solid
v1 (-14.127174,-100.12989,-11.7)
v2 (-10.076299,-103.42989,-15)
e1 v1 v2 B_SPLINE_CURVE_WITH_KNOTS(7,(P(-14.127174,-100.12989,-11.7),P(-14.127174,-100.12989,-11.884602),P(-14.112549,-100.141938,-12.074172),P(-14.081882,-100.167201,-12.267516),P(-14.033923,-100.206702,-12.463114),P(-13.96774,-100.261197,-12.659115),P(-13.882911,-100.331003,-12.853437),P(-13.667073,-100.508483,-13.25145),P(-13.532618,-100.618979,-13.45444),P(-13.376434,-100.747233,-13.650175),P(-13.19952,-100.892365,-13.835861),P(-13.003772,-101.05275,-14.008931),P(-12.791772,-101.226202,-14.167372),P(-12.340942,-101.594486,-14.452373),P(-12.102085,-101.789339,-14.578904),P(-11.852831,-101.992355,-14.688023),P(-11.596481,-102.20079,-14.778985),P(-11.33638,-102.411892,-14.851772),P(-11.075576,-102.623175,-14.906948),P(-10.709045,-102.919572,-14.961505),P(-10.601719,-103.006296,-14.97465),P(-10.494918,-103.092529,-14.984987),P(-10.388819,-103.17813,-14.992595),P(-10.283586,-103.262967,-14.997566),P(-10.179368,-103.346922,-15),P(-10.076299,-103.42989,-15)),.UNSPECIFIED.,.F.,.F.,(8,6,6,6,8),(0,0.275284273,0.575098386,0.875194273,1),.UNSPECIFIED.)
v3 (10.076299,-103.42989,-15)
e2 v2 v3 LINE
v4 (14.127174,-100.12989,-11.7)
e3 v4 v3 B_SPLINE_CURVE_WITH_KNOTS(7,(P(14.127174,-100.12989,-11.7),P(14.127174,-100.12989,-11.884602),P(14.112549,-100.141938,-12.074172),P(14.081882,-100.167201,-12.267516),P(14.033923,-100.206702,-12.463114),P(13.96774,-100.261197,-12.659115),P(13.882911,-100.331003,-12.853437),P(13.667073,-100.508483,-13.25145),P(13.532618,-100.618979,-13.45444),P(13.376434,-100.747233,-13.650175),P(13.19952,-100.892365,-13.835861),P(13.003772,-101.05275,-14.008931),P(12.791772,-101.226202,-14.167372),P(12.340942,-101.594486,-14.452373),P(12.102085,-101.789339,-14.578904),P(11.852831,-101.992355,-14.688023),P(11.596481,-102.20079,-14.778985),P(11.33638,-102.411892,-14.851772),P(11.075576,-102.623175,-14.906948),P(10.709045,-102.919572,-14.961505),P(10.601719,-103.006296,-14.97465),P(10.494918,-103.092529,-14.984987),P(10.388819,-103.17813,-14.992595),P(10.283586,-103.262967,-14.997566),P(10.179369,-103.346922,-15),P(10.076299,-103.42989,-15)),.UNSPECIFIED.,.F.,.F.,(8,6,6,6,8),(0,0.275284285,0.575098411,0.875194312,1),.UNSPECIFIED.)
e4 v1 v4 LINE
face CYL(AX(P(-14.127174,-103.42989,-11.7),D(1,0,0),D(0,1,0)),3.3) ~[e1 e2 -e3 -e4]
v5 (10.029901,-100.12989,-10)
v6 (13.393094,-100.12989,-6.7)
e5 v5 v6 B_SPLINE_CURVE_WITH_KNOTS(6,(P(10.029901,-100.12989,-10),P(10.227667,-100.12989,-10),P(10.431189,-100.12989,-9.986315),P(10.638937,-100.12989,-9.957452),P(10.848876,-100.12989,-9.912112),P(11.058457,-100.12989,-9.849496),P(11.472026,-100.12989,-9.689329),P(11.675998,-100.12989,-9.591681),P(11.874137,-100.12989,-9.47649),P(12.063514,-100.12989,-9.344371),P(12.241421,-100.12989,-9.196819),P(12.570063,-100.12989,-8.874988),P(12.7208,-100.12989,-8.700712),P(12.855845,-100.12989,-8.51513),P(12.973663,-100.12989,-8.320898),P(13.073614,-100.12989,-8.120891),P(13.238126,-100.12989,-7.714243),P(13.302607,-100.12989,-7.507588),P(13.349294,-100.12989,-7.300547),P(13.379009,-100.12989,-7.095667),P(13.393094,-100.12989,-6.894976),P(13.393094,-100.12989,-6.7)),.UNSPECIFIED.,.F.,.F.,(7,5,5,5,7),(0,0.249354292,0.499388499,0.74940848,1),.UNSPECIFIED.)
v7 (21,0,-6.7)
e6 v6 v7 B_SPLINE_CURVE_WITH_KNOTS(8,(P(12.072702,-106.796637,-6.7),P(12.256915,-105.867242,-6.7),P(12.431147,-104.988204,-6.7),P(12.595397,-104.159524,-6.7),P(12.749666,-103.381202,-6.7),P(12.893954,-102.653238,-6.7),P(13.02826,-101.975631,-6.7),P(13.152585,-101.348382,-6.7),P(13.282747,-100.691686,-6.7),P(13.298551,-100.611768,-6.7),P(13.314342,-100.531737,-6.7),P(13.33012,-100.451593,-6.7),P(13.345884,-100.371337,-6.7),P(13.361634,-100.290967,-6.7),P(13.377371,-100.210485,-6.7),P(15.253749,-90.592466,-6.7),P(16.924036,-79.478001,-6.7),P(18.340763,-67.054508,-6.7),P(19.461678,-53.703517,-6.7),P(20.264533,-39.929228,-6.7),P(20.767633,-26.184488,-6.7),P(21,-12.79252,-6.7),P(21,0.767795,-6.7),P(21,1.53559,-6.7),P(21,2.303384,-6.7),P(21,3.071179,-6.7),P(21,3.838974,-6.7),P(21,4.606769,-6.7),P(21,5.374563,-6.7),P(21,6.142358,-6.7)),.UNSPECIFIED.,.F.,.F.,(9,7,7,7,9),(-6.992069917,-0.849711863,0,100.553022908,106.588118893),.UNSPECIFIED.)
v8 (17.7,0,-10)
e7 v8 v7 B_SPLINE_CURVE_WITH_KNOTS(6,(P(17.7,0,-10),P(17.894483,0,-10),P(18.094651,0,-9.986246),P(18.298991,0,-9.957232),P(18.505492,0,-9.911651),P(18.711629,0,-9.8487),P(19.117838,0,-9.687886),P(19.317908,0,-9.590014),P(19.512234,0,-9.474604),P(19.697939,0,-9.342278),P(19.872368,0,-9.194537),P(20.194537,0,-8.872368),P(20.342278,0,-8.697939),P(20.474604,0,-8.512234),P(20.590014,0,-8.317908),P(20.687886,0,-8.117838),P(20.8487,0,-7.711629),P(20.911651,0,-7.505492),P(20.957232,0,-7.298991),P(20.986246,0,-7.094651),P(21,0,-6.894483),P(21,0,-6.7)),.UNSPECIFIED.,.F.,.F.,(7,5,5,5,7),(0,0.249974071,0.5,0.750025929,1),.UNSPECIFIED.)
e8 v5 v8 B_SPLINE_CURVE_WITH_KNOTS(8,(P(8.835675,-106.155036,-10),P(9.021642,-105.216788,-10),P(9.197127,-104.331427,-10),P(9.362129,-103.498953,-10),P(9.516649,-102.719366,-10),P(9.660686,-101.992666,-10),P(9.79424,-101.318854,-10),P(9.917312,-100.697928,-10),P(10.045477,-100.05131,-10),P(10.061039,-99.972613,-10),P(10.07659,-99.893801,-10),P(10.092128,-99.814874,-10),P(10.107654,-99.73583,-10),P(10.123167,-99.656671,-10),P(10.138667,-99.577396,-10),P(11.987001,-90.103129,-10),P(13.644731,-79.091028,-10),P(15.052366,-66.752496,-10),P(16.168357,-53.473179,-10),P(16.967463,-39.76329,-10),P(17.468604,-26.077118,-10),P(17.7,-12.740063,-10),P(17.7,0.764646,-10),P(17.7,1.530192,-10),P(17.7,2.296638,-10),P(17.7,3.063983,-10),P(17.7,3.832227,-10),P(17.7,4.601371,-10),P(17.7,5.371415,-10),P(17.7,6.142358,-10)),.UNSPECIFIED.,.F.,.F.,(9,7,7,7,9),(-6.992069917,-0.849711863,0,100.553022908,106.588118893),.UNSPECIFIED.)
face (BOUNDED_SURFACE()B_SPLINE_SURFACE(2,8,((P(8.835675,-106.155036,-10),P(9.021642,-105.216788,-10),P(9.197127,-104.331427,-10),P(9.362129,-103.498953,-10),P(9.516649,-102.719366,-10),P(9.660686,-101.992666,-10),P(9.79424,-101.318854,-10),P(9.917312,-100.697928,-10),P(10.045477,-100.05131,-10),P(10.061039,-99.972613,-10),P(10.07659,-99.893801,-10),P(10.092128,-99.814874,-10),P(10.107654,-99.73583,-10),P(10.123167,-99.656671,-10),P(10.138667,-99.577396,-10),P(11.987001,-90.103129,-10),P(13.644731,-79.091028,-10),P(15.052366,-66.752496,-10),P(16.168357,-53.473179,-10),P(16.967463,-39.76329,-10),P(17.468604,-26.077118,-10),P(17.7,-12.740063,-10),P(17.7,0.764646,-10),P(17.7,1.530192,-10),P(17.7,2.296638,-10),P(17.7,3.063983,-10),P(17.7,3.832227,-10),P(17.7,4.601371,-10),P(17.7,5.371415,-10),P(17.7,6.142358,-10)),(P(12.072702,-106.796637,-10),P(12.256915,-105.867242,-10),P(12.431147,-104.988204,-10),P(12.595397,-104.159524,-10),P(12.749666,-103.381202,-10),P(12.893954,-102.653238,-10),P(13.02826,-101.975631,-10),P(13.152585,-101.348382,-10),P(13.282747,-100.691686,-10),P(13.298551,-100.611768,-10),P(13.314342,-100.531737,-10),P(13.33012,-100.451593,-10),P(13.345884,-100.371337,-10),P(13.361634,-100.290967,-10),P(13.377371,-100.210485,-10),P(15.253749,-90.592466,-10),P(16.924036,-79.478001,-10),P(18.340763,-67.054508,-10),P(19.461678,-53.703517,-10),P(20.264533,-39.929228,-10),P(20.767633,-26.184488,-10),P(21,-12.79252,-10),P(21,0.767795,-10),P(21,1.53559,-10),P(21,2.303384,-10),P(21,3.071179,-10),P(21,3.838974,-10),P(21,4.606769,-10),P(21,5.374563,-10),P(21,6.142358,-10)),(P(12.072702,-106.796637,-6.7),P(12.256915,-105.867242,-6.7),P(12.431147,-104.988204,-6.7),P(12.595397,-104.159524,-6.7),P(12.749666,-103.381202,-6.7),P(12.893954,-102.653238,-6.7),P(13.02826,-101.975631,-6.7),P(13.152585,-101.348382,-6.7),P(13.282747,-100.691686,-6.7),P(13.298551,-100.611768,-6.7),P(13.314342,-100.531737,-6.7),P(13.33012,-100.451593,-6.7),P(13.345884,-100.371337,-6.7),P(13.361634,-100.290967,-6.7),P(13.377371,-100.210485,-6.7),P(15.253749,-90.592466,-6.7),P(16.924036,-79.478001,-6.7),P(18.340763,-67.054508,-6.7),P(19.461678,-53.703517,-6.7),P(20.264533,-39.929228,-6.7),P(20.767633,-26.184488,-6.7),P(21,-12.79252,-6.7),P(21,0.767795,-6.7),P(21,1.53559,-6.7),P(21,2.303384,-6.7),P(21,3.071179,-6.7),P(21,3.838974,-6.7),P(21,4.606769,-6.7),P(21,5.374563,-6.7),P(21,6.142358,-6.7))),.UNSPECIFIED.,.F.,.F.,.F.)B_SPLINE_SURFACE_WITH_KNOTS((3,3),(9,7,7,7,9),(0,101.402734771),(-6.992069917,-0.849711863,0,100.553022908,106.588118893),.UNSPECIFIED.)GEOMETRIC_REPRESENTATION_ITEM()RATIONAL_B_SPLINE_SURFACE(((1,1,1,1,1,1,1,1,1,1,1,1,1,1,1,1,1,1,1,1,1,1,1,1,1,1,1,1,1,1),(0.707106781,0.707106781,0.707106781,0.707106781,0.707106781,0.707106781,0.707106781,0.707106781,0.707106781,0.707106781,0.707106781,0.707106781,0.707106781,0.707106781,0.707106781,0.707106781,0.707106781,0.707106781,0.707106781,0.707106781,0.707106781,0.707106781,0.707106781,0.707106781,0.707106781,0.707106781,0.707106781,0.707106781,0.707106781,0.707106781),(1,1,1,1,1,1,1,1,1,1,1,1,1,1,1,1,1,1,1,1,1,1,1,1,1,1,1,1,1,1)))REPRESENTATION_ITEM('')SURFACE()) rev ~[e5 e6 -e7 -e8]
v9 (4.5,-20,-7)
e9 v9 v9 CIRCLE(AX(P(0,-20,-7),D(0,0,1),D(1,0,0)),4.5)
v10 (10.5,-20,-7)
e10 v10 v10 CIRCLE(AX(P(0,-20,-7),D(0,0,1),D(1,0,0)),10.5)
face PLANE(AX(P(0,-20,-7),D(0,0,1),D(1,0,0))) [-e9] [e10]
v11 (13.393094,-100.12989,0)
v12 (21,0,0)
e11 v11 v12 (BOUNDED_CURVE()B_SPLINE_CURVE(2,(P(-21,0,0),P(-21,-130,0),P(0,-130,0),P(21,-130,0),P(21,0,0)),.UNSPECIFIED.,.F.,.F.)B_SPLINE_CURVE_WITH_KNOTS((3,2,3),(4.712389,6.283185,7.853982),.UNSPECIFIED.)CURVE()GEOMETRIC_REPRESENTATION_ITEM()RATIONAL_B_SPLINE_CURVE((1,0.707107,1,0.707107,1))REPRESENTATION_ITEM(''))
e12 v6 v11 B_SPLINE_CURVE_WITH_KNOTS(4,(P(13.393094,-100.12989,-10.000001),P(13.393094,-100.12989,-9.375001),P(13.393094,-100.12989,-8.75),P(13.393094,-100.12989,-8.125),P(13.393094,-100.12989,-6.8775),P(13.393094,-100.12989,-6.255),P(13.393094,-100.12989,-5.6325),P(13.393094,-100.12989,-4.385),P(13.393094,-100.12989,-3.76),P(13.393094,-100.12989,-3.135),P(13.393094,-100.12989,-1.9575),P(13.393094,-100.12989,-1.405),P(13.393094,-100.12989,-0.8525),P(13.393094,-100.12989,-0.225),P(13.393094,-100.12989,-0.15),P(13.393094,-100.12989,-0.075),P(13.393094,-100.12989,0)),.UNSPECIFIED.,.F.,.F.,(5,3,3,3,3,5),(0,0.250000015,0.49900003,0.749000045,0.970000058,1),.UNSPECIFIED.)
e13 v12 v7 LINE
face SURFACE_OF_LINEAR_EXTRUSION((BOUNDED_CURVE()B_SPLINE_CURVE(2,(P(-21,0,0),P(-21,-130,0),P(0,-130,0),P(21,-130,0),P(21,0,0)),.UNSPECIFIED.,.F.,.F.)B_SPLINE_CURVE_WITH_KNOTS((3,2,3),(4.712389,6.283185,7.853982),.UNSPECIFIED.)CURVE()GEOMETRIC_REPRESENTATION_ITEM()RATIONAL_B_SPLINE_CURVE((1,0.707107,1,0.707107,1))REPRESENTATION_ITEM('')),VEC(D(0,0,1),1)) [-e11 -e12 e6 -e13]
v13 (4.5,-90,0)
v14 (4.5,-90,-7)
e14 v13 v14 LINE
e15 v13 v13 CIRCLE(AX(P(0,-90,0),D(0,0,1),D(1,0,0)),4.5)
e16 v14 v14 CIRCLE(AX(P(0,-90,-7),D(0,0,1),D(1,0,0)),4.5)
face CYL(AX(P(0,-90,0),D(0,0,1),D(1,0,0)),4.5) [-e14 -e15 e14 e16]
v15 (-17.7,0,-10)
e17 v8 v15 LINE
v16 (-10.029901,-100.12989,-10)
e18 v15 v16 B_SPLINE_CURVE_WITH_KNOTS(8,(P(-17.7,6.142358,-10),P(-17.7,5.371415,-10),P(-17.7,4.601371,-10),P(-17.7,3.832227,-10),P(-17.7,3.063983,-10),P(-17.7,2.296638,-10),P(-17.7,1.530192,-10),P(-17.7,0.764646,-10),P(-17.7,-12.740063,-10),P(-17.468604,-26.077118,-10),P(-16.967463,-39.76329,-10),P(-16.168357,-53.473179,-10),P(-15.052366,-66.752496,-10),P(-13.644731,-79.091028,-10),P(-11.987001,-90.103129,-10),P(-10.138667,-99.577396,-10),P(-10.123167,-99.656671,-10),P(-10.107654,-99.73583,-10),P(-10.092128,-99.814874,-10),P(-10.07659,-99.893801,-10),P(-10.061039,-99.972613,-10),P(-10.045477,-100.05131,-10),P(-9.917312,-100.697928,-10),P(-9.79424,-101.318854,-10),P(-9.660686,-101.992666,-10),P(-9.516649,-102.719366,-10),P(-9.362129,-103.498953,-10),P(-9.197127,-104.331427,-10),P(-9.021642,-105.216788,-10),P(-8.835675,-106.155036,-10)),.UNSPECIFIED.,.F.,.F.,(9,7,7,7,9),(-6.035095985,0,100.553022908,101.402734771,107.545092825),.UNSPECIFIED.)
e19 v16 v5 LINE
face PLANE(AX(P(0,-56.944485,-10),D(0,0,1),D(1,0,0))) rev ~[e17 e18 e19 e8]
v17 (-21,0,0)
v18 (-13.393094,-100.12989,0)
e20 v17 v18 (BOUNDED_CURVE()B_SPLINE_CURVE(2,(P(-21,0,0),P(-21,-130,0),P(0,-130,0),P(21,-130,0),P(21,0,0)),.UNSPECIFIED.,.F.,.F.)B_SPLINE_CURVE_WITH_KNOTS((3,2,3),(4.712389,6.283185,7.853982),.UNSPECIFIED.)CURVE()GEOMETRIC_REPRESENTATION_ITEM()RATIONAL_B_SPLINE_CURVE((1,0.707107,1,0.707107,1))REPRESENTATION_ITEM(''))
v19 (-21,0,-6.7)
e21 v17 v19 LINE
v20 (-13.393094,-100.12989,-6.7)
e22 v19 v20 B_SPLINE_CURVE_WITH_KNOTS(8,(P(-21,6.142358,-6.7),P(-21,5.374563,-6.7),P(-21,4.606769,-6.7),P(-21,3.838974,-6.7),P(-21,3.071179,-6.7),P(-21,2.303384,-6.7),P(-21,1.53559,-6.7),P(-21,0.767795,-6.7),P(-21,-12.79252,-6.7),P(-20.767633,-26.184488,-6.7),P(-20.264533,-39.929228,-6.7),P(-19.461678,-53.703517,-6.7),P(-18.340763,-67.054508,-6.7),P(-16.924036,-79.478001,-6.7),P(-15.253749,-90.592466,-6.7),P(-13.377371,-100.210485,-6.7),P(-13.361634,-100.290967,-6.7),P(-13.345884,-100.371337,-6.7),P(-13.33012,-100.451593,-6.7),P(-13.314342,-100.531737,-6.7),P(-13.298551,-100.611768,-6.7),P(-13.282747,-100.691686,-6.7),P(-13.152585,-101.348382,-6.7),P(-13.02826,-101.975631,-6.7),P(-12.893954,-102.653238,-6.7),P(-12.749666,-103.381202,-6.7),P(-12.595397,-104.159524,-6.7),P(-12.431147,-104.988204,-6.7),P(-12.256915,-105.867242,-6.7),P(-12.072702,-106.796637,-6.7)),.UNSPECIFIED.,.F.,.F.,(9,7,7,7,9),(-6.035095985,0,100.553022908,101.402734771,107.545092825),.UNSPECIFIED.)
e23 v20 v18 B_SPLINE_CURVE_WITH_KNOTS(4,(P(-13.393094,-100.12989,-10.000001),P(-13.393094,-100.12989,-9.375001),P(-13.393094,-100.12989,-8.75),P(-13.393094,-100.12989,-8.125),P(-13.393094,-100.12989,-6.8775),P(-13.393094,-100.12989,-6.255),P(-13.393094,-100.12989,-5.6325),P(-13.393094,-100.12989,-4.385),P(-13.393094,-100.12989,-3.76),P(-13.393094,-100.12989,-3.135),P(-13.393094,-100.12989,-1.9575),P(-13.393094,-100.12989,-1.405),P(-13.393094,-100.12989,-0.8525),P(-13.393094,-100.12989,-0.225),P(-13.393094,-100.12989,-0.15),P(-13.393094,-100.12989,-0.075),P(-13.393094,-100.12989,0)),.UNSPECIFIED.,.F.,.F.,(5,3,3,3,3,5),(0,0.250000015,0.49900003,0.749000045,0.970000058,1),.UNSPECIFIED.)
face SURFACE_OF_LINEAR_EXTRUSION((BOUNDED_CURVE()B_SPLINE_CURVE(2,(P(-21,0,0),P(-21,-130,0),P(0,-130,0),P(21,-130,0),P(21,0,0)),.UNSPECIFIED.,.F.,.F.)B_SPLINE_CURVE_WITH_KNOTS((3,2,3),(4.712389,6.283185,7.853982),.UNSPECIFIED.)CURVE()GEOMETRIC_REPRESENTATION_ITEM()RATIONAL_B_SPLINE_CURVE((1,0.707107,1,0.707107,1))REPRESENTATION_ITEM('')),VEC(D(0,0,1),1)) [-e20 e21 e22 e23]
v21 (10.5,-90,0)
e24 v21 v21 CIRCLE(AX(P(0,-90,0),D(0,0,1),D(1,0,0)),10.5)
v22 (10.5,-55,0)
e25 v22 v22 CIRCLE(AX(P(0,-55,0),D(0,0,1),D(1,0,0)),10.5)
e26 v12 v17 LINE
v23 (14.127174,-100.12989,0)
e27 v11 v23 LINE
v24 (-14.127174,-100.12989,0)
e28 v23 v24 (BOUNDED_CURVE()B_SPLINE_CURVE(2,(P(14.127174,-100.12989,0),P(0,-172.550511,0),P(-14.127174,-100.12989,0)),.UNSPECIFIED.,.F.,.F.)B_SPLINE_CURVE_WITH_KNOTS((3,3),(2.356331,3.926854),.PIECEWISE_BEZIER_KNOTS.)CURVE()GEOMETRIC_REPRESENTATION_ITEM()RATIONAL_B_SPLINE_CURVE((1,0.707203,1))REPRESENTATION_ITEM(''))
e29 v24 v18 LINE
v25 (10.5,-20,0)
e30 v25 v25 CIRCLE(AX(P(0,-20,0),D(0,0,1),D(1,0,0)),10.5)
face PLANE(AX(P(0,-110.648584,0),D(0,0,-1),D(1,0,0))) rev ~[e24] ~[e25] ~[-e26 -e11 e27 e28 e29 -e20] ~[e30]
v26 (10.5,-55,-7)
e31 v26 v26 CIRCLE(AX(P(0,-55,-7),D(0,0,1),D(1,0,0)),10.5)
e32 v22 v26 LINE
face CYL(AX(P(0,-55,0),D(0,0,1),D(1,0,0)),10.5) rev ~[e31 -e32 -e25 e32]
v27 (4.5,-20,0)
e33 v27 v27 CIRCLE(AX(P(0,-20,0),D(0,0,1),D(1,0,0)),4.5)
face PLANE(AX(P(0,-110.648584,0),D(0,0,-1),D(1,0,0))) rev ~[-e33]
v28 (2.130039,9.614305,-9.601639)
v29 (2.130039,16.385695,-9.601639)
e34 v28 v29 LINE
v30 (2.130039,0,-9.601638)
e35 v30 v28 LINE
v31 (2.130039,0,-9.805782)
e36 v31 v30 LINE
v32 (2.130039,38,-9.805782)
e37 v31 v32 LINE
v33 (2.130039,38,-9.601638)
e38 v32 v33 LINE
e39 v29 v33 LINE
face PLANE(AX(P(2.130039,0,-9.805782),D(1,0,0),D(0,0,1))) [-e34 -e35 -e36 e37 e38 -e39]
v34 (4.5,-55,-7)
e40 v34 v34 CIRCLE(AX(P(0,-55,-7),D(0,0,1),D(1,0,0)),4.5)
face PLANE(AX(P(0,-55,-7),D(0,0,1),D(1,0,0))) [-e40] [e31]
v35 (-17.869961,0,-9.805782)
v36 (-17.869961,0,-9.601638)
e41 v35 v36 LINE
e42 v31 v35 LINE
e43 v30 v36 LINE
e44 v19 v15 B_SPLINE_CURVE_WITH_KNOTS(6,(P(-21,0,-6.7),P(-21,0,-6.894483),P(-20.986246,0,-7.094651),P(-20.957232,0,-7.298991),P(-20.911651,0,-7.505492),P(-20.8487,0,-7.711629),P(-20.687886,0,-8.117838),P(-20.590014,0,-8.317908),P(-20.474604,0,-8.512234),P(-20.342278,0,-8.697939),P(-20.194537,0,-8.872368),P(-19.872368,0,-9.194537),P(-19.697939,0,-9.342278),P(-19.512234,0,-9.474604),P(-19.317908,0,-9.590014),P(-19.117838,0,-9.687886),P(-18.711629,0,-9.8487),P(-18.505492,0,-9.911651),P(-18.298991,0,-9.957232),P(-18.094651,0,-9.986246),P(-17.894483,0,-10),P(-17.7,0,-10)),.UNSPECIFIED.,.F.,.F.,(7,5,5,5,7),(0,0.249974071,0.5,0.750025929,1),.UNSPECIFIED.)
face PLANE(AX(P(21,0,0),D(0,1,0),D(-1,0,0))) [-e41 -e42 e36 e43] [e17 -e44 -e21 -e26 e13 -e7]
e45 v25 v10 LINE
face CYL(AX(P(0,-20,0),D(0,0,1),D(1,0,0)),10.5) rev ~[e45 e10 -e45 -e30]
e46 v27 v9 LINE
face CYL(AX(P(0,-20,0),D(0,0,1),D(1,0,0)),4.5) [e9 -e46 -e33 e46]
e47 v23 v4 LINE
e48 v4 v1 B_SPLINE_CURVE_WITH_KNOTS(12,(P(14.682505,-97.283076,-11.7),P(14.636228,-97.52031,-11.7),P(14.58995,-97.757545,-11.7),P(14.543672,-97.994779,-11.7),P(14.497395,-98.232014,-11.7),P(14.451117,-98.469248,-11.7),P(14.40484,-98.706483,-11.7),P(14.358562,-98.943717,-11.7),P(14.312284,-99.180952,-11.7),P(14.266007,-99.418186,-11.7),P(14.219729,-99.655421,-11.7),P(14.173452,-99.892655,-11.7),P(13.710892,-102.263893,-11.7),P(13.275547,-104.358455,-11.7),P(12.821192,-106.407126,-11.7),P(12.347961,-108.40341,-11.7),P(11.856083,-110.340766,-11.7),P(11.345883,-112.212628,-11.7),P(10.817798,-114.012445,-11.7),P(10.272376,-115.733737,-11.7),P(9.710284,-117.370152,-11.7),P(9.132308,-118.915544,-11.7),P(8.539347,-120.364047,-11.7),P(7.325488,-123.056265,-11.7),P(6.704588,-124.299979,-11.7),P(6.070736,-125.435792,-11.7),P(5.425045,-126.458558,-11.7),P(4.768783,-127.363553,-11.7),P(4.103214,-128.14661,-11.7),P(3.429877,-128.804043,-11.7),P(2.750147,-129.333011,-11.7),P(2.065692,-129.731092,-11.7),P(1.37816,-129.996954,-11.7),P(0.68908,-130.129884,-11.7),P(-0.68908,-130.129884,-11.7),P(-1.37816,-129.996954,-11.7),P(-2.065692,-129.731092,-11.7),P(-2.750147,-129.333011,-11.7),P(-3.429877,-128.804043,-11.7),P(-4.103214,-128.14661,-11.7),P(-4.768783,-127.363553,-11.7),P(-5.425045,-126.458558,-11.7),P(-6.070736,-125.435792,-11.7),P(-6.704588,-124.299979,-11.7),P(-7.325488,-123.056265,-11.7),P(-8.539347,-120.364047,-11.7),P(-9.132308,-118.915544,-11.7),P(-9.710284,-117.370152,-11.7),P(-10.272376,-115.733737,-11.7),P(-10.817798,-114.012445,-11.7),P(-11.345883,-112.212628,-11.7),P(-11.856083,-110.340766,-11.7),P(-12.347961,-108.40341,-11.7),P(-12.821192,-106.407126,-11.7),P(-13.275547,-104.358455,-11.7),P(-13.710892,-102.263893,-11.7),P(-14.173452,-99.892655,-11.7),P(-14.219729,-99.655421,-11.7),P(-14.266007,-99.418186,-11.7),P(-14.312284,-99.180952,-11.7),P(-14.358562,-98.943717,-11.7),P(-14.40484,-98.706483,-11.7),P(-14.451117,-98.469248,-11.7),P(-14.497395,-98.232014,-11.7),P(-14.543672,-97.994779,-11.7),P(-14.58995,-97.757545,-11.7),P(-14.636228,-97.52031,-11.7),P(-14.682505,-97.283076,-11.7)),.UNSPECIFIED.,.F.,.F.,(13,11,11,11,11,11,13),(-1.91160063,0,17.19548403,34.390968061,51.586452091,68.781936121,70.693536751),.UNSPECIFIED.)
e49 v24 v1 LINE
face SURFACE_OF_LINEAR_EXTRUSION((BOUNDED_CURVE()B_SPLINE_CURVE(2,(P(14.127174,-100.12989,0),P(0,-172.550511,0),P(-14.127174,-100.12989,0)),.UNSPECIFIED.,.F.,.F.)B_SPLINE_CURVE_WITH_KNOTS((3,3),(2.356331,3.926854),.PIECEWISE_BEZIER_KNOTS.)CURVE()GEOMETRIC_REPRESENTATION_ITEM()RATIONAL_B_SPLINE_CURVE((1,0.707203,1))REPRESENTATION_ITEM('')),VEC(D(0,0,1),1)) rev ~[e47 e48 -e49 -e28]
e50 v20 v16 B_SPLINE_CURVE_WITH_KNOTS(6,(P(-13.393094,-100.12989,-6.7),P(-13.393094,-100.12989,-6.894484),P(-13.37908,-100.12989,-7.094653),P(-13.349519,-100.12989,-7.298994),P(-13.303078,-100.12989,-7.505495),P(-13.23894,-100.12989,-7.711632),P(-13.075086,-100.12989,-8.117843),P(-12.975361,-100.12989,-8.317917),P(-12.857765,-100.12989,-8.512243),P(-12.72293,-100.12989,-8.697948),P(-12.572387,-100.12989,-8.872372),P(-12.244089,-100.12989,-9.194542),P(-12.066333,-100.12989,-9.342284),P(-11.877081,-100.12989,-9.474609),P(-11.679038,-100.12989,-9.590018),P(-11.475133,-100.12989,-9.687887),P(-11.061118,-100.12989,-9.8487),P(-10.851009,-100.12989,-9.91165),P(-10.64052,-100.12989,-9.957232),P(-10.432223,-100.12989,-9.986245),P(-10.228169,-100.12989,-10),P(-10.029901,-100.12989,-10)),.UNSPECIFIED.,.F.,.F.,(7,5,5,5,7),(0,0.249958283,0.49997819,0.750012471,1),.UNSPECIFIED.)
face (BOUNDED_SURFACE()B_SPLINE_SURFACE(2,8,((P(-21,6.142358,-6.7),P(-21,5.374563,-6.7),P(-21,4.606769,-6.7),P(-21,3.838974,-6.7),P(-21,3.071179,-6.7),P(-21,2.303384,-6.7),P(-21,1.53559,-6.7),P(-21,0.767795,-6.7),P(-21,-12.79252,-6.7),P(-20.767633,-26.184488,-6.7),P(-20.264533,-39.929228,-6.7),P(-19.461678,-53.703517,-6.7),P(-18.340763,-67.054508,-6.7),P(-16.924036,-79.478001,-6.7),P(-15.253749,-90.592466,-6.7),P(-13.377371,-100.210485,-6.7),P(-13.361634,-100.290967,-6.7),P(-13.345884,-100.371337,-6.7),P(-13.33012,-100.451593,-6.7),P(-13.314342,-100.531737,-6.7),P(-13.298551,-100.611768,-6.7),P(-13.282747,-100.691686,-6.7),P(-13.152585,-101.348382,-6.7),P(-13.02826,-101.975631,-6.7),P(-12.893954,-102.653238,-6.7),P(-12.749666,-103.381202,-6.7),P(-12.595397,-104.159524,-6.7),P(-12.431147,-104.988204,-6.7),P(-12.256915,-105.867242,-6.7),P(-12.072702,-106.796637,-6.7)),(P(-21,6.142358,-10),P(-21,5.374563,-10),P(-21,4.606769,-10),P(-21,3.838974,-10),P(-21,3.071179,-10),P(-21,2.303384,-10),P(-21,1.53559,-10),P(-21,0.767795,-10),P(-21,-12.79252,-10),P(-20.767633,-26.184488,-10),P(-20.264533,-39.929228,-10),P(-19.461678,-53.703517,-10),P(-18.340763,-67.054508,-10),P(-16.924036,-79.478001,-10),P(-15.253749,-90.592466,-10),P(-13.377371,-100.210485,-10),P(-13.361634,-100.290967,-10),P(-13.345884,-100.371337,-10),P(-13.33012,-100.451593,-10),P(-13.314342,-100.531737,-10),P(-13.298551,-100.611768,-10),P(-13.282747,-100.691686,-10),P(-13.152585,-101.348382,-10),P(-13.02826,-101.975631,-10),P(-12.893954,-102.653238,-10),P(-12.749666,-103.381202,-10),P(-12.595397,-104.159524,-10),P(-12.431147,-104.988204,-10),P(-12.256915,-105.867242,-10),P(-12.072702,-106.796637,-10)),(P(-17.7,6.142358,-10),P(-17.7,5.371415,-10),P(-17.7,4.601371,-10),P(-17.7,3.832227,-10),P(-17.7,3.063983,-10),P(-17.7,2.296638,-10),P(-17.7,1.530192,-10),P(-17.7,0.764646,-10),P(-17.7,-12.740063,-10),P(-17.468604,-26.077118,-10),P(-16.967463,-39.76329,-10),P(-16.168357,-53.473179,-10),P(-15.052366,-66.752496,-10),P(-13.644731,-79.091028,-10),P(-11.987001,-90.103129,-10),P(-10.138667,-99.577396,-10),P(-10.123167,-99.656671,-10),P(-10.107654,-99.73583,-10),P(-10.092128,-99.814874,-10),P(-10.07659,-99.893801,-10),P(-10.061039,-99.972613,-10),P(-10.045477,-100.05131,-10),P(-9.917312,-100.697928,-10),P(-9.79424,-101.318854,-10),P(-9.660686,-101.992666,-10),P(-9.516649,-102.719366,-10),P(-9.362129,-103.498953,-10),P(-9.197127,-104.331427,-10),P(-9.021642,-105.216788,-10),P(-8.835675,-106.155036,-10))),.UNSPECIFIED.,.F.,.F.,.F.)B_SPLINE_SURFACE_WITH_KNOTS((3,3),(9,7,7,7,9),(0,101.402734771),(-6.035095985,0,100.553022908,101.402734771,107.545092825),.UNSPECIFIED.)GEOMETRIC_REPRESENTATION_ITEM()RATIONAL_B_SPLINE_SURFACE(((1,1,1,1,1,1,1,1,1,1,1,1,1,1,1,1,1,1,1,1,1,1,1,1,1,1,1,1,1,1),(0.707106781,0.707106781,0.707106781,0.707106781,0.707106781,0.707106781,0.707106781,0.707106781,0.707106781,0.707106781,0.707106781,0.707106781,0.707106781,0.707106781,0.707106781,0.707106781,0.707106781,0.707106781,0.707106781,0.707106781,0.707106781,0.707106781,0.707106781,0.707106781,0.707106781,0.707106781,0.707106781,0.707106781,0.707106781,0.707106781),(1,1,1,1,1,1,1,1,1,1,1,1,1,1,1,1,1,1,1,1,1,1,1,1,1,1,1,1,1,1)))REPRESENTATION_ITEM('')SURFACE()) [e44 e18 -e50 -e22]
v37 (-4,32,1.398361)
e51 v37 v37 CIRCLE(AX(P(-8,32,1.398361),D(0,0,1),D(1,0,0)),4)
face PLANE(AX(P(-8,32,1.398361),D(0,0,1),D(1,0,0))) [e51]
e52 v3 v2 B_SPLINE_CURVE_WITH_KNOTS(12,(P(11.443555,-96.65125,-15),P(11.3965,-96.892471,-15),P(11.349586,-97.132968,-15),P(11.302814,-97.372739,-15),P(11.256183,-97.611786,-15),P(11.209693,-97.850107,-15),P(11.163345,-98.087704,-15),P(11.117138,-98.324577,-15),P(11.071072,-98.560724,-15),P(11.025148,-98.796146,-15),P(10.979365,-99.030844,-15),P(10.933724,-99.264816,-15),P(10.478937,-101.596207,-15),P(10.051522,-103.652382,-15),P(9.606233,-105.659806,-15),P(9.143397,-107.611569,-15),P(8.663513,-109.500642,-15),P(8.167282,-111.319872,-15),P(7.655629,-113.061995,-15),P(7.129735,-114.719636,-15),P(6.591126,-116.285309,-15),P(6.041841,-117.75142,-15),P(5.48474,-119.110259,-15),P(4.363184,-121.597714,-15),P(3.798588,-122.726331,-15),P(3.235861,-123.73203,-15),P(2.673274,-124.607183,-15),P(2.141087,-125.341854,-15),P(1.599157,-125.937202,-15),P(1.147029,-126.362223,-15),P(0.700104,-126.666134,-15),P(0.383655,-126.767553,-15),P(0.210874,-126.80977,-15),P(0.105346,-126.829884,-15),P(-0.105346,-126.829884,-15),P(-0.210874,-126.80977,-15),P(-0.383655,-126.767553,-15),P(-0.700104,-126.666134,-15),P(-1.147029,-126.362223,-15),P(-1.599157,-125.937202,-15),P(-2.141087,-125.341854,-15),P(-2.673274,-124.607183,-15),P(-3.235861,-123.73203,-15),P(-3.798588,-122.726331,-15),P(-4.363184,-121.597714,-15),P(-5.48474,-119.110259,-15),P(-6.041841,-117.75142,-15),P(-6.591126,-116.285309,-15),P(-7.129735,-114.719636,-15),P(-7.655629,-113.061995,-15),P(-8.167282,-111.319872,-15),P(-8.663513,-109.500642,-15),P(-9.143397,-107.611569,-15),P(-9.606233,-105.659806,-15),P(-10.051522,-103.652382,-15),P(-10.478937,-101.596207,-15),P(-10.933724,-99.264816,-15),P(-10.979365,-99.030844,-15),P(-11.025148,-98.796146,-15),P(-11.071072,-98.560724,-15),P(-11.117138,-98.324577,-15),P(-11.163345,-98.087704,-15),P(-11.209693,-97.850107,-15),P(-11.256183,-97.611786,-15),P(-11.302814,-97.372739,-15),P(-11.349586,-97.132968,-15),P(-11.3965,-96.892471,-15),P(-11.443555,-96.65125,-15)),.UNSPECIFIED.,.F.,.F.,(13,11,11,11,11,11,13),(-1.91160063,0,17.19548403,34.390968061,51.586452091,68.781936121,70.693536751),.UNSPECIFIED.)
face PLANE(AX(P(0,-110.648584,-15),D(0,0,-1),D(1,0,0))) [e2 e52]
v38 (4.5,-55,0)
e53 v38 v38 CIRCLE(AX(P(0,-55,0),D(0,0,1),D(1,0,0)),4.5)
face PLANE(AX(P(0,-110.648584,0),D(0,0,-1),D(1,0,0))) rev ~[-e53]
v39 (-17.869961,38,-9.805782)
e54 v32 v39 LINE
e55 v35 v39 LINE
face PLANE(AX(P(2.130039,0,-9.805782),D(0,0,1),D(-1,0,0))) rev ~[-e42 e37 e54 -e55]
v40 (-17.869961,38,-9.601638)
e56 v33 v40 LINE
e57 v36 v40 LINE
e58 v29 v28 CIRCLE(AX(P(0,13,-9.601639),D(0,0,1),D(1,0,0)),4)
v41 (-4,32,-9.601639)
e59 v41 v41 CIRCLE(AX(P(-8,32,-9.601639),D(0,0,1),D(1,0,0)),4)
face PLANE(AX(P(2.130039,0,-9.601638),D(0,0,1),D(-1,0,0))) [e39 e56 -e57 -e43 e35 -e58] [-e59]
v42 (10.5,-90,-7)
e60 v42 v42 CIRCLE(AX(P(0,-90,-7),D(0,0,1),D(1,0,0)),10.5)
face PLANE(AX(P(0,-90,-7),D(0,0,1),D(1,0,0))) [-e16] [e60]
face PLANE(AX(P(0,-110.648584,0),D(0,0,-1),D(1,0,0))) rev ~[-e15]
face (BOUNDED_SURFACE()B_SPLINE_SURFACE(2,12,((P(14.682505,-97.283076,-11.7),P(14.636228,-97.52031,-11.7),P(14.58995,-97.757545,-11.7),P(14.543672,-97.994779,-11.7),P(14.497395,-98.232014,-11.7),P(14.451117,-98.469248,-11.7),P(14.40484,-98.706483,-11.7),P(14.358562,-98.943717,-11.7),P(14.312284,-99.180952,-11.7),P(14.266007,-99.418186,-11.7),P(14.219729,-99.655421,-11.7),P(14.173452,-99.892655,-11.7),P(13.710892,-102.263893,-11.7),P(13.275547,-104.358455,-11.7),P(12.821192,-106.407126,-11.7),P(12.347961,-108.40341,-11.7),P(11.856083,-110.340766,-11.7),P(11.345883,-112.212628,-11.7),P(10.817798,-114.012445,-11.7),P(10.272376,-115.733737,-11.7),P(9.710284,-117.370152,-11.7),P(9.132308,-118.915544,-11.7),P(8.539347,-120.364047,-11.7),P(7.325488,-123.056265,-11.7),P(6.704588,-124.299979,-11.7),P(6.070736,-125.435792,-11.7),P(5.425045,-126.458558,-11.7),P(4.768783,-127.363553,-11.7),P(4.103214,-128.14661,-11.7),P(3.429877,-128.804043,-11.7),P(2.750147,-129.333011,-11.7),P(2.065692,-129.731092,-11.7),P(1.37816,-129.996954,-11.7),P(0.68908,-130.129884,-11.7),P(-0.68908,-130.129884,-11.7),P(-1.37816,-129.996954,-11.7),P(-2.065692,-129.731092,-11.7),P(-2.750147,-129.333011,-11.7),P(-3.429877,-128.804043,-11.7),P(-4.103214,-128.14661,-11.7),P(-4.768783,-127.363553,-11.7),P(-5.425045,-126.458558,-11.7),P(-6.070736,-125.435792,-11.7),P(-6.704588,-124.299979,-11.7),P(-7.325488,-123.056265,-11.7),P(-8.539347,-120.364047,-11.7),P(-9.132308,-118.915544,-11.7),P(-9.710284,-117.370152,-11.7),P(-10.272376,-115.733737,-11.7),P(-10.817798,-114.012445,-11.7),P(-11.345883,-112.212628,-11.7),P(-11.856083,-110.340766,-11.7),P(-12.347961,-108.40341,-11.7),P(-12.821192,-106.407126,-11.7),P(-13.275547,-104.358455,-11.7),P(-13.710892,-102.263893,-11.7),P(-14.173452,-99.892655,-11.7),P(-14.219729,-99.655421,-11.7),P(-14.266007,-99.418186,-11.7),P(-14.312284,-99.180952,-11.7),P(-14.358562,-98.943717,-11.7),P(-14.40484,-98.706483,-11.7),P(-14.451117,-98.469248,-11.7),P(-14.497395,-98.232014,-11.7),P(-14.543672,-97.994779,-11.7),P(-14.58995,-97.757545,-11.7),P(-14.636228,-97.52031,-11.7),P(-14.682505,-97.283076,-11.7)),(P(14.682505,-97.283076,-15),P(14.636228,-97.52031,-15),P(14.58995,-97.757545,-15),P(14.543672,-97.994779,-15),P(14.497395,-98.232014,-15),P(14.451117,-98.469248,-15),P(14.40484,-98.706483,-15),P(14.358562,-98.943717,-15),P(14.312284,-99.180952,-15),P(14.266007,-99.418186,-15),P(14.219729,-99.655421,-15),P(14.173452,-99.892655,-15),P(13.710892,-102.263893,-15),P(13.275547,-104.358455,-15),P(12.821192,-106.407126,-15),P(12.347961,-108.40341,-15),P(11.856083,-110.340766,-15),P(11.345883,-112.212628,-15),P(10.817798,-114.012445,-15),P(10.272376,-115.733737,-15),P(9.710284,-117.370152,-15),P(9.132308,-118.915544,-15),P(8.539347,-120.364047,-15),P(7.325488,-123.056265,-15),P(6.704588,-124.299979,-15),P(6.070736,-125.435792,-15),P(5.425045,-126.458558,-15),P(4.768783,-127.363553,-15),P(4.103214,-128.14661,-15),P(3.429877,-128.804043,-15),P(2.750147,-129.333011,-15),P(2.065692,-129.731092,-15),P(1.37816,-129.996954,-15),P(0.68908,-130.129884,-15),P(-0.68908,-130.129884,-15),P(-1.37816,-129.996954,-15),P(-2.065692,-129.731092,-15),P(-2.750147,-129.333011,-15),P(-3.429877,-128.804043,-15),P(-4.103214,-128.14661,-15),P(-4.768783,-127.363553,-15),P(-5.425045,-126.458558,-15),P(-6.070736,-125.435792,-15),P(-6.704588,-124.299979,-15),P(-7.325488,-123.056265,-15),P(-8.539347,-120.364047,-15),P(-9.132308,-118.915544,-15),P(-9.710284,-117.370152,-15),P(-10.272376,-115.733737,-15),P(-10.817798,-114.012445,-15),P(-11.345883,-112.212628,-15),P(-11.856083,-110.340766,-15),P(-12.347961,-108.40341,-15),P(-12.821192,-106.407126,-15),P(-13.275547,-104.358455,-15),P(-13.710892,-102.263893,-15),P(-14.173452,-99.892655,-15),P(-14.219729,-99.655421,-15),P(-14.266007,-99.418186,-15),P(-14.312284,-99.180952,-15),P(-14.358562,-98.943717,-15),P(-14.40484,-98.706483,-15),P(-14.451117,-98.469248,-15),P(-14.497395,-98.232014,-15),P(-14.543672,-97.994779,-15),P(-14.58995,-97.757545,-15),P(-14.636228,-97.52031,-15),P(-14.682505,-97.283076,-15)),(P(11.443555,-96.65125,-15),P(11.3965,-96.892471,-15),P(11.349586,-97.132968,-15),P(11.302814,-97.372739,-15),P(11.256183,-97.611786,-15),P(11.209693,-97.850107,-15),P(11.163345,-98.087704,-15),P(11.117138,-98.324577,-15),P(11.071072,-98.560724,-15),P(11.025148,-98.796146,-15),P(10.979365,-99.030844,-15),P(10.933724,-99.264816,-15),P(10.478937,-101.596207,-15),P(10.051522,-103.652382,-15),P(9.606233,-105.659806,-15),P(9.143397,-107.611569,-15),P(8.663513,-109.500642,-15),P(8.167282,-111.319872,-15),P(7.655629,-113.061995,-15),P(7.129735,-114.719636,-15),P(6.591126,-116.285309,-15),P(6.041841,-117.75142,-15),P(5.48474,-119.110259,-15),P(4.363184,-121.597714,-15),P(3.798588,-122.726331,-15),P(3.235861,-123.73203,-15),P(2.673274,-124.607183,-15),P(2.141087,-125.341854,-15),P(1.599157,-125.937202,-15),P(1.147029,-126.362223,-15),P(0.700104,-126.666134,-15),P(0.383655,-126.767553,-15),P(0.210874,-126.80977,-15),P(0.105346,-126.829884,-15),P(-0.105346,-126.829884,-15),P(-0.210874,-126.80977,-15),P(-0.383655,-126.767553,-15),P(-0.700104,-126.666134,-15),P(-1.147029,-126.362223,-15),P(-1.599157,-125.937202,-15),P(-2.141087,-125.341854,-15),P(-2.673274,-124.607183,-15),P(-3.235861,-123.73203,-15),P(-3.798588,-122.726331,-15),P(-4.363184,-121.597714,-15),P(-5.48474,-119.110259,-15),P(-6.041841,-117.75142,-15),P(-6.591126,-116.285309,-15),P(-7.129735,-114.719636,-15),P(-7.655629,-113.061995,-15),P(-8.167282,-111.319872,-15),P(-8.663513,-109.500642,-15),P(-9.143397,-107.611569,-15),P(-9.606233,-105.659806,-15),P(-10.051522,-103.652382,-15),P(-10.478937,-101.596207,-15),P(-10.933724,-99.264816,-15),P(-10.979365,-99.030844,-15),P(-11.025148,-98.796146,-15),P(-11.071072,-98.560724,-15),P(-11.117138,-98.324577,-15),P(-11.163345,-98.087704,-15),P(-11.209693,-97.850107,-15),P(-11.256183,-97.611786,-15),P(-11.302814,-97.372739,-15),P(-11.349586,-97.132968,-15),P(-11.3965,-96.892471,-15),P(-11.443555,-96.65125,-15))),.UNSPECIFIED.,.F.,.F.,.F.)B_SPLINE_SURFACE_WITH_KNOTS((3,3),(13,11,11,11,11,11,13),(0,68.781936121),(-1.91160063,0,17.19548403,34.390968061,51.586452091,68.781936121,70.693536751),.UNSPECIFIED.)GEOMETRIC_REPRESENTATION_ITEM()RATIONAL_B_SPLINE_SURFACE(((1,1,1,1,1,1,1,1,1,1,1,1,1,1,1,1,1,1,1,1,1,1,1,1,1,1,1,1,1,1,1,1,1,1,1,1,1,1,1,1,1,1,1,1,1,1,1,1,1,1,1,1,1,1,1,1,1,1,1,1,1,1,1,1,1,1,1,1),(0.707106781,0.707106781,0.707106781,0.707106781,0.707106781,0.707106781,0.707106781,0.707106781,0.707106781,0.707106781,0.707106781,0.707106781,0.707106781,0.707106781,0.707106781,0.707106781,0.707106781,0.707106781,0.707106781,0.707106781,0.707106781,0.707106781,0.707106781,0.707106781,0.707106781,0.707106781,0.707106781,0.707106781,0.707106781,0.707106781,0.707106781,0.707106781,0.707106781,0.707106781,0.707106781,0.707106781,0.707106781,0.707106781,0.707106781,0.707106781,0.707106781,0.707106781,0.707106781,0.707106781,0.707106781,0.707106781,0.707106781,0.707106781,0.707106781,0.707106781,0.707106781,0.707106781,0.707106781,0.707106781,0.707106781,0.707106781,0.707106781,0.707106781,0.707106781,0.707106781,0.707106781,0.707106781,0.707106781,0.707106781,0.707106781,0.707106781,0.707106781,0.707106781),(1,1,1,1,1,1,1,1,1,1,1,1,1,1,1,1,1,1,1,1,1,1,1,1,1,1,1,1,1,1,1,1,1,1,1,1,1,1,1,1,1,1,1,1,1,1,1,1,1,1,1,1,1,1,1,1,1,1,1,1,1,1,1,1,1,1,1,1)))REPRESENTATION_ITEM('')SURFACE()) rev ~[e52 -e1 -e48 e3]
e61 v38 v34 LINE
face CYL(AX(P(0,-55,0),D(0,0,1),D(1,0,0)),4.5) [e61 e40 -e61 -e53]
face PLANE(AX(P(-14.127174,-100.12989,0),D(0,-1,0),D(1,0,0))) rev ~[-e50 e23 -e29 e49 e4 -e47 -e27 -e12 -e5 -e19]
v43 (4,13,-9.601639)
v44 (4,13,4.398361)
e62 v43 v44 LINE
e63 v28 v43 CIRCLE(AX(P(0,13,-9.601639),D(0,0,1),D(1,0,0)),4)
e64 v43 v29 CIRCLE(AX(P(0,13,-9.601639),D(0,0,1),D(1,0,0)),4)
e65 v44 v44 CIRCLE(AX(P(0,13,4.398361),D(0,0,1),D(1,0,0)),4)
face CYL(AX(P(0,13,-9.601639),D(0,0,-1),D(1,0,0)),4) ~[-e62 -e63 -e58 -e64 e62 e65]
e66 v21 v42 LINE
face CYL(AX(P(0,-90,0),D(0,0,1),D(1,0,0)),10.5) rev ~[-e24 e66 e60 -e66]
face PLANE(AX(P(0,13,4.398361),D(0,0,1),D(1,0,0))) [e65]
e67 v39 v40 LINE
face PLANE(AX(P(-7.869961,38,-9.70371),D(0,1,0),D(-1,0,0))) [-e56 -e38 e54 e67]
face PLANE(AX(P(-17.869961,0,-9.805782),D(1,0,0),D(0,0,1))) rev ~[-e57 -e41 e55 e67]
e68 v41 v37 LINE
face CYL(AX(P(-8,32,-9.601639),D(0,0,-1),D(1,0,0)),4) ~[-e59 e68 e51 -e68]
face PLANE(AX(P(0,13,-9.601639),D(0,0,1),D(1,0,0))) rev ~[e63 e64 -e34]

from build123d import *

# Parameters (mm, degrees)
PAD001_DEPTH           = 10
PAD002_DEPTH           = 15
FILLET_R               = 3.3
SKETCH007_R            = 10.5
SKETCH007_R_2          = 4.5
POCKET001_DEPTH        = 7
LINEARPATTERN001_COUNT = 3
LINEARPATTERN001_PITCH = 35
SKETCH008_W            = 20
SKETCH008_H            = 0.204143
PAD004_DEPTH           = 38
SKETCH009_R            = 4
PAD005_DEPTH           = 14
SKETCH010_R            = 4
PAD006_DEPTH           = 11


with BuildPart() as part:
    # Sketch001 → Pad001 (new body)
    with BuildSketch(Plane.XY):
        with BuildLine():
            add(Edge.make_bspline(
                [(-21, 0), (-21, -130), (0, -130), (21, -130), (21, 0)],
                knots=[4.712389, 4.712389, 4.712389, 6.283185, 6.283185, 7.853982, 7.853982, 7.853982], degree=2, weights=[1, 0.707107, 1, 0.707107, 1]))
            Line((21, 0), (-21, 0))
        make_face()
    extrude(amount=-PAD001_DEPTH)

    # Sketch004 (on Face4 of Pad001) → Pad002 (join)
    with BuildSketch(Plane(origin=(0, 0, 0), x_dir=(1, 0, 0), z_dir=(0, 0, -1))):
        with BuildLine():
            add(Edge.make_bspline(
                [(14.127174, 100.12989), (0, 172.550511), (-14.127174, 100.12989)],
                knots=[2.356331, 2.356331, 2.356331, 3.926854, 3.926854, 3.926854], degree=2, weights=[1, 0.707203, 1]))
            Line((-14.127174, 100.12989), (14.127174, 100.12989))
        make_face()
    extrude(amount=PAD002_DEPTH)

    # Fillet
    fillet_edges = [part.edges().sort_by_distance(p)[0] for p in [
        (-0.005047, -130.129887, -15),
        (0, -100.12989, -15),
        (19.368374, -50.240623, -10),
        (-19.368374, -50.240623, -10),
    ]]
    fillet(fillet_edges, radius=FILLET_R)

    # Sketch007 → Pocket001 (cut)
    with BuildSketch(Plane.XY):
        with Locations((0, -90)):
            Circle(SKETCH007_R)
        with Locations((0, -90)):
            Circle(SKETCH007_R_2, mode=Mode.SUBTRACT)
    pocket001 = extrude(amount=-POCKET001_DEPTH, mode=Mode.SUBTRACT)

    # LinearPattern001: Pocket001 ×3
    with Locations(*[(0, i * LINEARPATTERN001_PITCH, 0) for i in range(1, LINEARPATTERN001_COUNT)]):
        add(pocket001, mode=Mode.SUBTRACT)

    # Sketch008 (on Face5 of LinearPattern001) → Pad004 (join)
    with BuildSketch(Plane(origin=(0, 0, 0), x_dir=(-1, 0, 0), z_dir=(0, 1, 0))):
        with Locations((7.869961, -9.70371)):
            Rectangle(SKETCH008_W, SKETCH008_H)
    extrude(amount=PAD004_DEPTH)

    # Sketch009 (on Face16 of Pad004) → Pad005 (join)
    with BuildSketch(Plane.XY.offset(-9.601639)):
        with Locations((0, 13)):
            Circle(SKETCH009_R)
    extrude(amount=PAD005_DEPTH)

    # Sketch010 (on Face16 of Pad005) → Pad006 (join)
    with BuildSketch(Plane.XY.offset(-9.601639)):
        with Locations((-8, 32)):
            Circle(SKETCH010_R)
    extrude(amount=PAD006_DEPTH)


solid = part.part
